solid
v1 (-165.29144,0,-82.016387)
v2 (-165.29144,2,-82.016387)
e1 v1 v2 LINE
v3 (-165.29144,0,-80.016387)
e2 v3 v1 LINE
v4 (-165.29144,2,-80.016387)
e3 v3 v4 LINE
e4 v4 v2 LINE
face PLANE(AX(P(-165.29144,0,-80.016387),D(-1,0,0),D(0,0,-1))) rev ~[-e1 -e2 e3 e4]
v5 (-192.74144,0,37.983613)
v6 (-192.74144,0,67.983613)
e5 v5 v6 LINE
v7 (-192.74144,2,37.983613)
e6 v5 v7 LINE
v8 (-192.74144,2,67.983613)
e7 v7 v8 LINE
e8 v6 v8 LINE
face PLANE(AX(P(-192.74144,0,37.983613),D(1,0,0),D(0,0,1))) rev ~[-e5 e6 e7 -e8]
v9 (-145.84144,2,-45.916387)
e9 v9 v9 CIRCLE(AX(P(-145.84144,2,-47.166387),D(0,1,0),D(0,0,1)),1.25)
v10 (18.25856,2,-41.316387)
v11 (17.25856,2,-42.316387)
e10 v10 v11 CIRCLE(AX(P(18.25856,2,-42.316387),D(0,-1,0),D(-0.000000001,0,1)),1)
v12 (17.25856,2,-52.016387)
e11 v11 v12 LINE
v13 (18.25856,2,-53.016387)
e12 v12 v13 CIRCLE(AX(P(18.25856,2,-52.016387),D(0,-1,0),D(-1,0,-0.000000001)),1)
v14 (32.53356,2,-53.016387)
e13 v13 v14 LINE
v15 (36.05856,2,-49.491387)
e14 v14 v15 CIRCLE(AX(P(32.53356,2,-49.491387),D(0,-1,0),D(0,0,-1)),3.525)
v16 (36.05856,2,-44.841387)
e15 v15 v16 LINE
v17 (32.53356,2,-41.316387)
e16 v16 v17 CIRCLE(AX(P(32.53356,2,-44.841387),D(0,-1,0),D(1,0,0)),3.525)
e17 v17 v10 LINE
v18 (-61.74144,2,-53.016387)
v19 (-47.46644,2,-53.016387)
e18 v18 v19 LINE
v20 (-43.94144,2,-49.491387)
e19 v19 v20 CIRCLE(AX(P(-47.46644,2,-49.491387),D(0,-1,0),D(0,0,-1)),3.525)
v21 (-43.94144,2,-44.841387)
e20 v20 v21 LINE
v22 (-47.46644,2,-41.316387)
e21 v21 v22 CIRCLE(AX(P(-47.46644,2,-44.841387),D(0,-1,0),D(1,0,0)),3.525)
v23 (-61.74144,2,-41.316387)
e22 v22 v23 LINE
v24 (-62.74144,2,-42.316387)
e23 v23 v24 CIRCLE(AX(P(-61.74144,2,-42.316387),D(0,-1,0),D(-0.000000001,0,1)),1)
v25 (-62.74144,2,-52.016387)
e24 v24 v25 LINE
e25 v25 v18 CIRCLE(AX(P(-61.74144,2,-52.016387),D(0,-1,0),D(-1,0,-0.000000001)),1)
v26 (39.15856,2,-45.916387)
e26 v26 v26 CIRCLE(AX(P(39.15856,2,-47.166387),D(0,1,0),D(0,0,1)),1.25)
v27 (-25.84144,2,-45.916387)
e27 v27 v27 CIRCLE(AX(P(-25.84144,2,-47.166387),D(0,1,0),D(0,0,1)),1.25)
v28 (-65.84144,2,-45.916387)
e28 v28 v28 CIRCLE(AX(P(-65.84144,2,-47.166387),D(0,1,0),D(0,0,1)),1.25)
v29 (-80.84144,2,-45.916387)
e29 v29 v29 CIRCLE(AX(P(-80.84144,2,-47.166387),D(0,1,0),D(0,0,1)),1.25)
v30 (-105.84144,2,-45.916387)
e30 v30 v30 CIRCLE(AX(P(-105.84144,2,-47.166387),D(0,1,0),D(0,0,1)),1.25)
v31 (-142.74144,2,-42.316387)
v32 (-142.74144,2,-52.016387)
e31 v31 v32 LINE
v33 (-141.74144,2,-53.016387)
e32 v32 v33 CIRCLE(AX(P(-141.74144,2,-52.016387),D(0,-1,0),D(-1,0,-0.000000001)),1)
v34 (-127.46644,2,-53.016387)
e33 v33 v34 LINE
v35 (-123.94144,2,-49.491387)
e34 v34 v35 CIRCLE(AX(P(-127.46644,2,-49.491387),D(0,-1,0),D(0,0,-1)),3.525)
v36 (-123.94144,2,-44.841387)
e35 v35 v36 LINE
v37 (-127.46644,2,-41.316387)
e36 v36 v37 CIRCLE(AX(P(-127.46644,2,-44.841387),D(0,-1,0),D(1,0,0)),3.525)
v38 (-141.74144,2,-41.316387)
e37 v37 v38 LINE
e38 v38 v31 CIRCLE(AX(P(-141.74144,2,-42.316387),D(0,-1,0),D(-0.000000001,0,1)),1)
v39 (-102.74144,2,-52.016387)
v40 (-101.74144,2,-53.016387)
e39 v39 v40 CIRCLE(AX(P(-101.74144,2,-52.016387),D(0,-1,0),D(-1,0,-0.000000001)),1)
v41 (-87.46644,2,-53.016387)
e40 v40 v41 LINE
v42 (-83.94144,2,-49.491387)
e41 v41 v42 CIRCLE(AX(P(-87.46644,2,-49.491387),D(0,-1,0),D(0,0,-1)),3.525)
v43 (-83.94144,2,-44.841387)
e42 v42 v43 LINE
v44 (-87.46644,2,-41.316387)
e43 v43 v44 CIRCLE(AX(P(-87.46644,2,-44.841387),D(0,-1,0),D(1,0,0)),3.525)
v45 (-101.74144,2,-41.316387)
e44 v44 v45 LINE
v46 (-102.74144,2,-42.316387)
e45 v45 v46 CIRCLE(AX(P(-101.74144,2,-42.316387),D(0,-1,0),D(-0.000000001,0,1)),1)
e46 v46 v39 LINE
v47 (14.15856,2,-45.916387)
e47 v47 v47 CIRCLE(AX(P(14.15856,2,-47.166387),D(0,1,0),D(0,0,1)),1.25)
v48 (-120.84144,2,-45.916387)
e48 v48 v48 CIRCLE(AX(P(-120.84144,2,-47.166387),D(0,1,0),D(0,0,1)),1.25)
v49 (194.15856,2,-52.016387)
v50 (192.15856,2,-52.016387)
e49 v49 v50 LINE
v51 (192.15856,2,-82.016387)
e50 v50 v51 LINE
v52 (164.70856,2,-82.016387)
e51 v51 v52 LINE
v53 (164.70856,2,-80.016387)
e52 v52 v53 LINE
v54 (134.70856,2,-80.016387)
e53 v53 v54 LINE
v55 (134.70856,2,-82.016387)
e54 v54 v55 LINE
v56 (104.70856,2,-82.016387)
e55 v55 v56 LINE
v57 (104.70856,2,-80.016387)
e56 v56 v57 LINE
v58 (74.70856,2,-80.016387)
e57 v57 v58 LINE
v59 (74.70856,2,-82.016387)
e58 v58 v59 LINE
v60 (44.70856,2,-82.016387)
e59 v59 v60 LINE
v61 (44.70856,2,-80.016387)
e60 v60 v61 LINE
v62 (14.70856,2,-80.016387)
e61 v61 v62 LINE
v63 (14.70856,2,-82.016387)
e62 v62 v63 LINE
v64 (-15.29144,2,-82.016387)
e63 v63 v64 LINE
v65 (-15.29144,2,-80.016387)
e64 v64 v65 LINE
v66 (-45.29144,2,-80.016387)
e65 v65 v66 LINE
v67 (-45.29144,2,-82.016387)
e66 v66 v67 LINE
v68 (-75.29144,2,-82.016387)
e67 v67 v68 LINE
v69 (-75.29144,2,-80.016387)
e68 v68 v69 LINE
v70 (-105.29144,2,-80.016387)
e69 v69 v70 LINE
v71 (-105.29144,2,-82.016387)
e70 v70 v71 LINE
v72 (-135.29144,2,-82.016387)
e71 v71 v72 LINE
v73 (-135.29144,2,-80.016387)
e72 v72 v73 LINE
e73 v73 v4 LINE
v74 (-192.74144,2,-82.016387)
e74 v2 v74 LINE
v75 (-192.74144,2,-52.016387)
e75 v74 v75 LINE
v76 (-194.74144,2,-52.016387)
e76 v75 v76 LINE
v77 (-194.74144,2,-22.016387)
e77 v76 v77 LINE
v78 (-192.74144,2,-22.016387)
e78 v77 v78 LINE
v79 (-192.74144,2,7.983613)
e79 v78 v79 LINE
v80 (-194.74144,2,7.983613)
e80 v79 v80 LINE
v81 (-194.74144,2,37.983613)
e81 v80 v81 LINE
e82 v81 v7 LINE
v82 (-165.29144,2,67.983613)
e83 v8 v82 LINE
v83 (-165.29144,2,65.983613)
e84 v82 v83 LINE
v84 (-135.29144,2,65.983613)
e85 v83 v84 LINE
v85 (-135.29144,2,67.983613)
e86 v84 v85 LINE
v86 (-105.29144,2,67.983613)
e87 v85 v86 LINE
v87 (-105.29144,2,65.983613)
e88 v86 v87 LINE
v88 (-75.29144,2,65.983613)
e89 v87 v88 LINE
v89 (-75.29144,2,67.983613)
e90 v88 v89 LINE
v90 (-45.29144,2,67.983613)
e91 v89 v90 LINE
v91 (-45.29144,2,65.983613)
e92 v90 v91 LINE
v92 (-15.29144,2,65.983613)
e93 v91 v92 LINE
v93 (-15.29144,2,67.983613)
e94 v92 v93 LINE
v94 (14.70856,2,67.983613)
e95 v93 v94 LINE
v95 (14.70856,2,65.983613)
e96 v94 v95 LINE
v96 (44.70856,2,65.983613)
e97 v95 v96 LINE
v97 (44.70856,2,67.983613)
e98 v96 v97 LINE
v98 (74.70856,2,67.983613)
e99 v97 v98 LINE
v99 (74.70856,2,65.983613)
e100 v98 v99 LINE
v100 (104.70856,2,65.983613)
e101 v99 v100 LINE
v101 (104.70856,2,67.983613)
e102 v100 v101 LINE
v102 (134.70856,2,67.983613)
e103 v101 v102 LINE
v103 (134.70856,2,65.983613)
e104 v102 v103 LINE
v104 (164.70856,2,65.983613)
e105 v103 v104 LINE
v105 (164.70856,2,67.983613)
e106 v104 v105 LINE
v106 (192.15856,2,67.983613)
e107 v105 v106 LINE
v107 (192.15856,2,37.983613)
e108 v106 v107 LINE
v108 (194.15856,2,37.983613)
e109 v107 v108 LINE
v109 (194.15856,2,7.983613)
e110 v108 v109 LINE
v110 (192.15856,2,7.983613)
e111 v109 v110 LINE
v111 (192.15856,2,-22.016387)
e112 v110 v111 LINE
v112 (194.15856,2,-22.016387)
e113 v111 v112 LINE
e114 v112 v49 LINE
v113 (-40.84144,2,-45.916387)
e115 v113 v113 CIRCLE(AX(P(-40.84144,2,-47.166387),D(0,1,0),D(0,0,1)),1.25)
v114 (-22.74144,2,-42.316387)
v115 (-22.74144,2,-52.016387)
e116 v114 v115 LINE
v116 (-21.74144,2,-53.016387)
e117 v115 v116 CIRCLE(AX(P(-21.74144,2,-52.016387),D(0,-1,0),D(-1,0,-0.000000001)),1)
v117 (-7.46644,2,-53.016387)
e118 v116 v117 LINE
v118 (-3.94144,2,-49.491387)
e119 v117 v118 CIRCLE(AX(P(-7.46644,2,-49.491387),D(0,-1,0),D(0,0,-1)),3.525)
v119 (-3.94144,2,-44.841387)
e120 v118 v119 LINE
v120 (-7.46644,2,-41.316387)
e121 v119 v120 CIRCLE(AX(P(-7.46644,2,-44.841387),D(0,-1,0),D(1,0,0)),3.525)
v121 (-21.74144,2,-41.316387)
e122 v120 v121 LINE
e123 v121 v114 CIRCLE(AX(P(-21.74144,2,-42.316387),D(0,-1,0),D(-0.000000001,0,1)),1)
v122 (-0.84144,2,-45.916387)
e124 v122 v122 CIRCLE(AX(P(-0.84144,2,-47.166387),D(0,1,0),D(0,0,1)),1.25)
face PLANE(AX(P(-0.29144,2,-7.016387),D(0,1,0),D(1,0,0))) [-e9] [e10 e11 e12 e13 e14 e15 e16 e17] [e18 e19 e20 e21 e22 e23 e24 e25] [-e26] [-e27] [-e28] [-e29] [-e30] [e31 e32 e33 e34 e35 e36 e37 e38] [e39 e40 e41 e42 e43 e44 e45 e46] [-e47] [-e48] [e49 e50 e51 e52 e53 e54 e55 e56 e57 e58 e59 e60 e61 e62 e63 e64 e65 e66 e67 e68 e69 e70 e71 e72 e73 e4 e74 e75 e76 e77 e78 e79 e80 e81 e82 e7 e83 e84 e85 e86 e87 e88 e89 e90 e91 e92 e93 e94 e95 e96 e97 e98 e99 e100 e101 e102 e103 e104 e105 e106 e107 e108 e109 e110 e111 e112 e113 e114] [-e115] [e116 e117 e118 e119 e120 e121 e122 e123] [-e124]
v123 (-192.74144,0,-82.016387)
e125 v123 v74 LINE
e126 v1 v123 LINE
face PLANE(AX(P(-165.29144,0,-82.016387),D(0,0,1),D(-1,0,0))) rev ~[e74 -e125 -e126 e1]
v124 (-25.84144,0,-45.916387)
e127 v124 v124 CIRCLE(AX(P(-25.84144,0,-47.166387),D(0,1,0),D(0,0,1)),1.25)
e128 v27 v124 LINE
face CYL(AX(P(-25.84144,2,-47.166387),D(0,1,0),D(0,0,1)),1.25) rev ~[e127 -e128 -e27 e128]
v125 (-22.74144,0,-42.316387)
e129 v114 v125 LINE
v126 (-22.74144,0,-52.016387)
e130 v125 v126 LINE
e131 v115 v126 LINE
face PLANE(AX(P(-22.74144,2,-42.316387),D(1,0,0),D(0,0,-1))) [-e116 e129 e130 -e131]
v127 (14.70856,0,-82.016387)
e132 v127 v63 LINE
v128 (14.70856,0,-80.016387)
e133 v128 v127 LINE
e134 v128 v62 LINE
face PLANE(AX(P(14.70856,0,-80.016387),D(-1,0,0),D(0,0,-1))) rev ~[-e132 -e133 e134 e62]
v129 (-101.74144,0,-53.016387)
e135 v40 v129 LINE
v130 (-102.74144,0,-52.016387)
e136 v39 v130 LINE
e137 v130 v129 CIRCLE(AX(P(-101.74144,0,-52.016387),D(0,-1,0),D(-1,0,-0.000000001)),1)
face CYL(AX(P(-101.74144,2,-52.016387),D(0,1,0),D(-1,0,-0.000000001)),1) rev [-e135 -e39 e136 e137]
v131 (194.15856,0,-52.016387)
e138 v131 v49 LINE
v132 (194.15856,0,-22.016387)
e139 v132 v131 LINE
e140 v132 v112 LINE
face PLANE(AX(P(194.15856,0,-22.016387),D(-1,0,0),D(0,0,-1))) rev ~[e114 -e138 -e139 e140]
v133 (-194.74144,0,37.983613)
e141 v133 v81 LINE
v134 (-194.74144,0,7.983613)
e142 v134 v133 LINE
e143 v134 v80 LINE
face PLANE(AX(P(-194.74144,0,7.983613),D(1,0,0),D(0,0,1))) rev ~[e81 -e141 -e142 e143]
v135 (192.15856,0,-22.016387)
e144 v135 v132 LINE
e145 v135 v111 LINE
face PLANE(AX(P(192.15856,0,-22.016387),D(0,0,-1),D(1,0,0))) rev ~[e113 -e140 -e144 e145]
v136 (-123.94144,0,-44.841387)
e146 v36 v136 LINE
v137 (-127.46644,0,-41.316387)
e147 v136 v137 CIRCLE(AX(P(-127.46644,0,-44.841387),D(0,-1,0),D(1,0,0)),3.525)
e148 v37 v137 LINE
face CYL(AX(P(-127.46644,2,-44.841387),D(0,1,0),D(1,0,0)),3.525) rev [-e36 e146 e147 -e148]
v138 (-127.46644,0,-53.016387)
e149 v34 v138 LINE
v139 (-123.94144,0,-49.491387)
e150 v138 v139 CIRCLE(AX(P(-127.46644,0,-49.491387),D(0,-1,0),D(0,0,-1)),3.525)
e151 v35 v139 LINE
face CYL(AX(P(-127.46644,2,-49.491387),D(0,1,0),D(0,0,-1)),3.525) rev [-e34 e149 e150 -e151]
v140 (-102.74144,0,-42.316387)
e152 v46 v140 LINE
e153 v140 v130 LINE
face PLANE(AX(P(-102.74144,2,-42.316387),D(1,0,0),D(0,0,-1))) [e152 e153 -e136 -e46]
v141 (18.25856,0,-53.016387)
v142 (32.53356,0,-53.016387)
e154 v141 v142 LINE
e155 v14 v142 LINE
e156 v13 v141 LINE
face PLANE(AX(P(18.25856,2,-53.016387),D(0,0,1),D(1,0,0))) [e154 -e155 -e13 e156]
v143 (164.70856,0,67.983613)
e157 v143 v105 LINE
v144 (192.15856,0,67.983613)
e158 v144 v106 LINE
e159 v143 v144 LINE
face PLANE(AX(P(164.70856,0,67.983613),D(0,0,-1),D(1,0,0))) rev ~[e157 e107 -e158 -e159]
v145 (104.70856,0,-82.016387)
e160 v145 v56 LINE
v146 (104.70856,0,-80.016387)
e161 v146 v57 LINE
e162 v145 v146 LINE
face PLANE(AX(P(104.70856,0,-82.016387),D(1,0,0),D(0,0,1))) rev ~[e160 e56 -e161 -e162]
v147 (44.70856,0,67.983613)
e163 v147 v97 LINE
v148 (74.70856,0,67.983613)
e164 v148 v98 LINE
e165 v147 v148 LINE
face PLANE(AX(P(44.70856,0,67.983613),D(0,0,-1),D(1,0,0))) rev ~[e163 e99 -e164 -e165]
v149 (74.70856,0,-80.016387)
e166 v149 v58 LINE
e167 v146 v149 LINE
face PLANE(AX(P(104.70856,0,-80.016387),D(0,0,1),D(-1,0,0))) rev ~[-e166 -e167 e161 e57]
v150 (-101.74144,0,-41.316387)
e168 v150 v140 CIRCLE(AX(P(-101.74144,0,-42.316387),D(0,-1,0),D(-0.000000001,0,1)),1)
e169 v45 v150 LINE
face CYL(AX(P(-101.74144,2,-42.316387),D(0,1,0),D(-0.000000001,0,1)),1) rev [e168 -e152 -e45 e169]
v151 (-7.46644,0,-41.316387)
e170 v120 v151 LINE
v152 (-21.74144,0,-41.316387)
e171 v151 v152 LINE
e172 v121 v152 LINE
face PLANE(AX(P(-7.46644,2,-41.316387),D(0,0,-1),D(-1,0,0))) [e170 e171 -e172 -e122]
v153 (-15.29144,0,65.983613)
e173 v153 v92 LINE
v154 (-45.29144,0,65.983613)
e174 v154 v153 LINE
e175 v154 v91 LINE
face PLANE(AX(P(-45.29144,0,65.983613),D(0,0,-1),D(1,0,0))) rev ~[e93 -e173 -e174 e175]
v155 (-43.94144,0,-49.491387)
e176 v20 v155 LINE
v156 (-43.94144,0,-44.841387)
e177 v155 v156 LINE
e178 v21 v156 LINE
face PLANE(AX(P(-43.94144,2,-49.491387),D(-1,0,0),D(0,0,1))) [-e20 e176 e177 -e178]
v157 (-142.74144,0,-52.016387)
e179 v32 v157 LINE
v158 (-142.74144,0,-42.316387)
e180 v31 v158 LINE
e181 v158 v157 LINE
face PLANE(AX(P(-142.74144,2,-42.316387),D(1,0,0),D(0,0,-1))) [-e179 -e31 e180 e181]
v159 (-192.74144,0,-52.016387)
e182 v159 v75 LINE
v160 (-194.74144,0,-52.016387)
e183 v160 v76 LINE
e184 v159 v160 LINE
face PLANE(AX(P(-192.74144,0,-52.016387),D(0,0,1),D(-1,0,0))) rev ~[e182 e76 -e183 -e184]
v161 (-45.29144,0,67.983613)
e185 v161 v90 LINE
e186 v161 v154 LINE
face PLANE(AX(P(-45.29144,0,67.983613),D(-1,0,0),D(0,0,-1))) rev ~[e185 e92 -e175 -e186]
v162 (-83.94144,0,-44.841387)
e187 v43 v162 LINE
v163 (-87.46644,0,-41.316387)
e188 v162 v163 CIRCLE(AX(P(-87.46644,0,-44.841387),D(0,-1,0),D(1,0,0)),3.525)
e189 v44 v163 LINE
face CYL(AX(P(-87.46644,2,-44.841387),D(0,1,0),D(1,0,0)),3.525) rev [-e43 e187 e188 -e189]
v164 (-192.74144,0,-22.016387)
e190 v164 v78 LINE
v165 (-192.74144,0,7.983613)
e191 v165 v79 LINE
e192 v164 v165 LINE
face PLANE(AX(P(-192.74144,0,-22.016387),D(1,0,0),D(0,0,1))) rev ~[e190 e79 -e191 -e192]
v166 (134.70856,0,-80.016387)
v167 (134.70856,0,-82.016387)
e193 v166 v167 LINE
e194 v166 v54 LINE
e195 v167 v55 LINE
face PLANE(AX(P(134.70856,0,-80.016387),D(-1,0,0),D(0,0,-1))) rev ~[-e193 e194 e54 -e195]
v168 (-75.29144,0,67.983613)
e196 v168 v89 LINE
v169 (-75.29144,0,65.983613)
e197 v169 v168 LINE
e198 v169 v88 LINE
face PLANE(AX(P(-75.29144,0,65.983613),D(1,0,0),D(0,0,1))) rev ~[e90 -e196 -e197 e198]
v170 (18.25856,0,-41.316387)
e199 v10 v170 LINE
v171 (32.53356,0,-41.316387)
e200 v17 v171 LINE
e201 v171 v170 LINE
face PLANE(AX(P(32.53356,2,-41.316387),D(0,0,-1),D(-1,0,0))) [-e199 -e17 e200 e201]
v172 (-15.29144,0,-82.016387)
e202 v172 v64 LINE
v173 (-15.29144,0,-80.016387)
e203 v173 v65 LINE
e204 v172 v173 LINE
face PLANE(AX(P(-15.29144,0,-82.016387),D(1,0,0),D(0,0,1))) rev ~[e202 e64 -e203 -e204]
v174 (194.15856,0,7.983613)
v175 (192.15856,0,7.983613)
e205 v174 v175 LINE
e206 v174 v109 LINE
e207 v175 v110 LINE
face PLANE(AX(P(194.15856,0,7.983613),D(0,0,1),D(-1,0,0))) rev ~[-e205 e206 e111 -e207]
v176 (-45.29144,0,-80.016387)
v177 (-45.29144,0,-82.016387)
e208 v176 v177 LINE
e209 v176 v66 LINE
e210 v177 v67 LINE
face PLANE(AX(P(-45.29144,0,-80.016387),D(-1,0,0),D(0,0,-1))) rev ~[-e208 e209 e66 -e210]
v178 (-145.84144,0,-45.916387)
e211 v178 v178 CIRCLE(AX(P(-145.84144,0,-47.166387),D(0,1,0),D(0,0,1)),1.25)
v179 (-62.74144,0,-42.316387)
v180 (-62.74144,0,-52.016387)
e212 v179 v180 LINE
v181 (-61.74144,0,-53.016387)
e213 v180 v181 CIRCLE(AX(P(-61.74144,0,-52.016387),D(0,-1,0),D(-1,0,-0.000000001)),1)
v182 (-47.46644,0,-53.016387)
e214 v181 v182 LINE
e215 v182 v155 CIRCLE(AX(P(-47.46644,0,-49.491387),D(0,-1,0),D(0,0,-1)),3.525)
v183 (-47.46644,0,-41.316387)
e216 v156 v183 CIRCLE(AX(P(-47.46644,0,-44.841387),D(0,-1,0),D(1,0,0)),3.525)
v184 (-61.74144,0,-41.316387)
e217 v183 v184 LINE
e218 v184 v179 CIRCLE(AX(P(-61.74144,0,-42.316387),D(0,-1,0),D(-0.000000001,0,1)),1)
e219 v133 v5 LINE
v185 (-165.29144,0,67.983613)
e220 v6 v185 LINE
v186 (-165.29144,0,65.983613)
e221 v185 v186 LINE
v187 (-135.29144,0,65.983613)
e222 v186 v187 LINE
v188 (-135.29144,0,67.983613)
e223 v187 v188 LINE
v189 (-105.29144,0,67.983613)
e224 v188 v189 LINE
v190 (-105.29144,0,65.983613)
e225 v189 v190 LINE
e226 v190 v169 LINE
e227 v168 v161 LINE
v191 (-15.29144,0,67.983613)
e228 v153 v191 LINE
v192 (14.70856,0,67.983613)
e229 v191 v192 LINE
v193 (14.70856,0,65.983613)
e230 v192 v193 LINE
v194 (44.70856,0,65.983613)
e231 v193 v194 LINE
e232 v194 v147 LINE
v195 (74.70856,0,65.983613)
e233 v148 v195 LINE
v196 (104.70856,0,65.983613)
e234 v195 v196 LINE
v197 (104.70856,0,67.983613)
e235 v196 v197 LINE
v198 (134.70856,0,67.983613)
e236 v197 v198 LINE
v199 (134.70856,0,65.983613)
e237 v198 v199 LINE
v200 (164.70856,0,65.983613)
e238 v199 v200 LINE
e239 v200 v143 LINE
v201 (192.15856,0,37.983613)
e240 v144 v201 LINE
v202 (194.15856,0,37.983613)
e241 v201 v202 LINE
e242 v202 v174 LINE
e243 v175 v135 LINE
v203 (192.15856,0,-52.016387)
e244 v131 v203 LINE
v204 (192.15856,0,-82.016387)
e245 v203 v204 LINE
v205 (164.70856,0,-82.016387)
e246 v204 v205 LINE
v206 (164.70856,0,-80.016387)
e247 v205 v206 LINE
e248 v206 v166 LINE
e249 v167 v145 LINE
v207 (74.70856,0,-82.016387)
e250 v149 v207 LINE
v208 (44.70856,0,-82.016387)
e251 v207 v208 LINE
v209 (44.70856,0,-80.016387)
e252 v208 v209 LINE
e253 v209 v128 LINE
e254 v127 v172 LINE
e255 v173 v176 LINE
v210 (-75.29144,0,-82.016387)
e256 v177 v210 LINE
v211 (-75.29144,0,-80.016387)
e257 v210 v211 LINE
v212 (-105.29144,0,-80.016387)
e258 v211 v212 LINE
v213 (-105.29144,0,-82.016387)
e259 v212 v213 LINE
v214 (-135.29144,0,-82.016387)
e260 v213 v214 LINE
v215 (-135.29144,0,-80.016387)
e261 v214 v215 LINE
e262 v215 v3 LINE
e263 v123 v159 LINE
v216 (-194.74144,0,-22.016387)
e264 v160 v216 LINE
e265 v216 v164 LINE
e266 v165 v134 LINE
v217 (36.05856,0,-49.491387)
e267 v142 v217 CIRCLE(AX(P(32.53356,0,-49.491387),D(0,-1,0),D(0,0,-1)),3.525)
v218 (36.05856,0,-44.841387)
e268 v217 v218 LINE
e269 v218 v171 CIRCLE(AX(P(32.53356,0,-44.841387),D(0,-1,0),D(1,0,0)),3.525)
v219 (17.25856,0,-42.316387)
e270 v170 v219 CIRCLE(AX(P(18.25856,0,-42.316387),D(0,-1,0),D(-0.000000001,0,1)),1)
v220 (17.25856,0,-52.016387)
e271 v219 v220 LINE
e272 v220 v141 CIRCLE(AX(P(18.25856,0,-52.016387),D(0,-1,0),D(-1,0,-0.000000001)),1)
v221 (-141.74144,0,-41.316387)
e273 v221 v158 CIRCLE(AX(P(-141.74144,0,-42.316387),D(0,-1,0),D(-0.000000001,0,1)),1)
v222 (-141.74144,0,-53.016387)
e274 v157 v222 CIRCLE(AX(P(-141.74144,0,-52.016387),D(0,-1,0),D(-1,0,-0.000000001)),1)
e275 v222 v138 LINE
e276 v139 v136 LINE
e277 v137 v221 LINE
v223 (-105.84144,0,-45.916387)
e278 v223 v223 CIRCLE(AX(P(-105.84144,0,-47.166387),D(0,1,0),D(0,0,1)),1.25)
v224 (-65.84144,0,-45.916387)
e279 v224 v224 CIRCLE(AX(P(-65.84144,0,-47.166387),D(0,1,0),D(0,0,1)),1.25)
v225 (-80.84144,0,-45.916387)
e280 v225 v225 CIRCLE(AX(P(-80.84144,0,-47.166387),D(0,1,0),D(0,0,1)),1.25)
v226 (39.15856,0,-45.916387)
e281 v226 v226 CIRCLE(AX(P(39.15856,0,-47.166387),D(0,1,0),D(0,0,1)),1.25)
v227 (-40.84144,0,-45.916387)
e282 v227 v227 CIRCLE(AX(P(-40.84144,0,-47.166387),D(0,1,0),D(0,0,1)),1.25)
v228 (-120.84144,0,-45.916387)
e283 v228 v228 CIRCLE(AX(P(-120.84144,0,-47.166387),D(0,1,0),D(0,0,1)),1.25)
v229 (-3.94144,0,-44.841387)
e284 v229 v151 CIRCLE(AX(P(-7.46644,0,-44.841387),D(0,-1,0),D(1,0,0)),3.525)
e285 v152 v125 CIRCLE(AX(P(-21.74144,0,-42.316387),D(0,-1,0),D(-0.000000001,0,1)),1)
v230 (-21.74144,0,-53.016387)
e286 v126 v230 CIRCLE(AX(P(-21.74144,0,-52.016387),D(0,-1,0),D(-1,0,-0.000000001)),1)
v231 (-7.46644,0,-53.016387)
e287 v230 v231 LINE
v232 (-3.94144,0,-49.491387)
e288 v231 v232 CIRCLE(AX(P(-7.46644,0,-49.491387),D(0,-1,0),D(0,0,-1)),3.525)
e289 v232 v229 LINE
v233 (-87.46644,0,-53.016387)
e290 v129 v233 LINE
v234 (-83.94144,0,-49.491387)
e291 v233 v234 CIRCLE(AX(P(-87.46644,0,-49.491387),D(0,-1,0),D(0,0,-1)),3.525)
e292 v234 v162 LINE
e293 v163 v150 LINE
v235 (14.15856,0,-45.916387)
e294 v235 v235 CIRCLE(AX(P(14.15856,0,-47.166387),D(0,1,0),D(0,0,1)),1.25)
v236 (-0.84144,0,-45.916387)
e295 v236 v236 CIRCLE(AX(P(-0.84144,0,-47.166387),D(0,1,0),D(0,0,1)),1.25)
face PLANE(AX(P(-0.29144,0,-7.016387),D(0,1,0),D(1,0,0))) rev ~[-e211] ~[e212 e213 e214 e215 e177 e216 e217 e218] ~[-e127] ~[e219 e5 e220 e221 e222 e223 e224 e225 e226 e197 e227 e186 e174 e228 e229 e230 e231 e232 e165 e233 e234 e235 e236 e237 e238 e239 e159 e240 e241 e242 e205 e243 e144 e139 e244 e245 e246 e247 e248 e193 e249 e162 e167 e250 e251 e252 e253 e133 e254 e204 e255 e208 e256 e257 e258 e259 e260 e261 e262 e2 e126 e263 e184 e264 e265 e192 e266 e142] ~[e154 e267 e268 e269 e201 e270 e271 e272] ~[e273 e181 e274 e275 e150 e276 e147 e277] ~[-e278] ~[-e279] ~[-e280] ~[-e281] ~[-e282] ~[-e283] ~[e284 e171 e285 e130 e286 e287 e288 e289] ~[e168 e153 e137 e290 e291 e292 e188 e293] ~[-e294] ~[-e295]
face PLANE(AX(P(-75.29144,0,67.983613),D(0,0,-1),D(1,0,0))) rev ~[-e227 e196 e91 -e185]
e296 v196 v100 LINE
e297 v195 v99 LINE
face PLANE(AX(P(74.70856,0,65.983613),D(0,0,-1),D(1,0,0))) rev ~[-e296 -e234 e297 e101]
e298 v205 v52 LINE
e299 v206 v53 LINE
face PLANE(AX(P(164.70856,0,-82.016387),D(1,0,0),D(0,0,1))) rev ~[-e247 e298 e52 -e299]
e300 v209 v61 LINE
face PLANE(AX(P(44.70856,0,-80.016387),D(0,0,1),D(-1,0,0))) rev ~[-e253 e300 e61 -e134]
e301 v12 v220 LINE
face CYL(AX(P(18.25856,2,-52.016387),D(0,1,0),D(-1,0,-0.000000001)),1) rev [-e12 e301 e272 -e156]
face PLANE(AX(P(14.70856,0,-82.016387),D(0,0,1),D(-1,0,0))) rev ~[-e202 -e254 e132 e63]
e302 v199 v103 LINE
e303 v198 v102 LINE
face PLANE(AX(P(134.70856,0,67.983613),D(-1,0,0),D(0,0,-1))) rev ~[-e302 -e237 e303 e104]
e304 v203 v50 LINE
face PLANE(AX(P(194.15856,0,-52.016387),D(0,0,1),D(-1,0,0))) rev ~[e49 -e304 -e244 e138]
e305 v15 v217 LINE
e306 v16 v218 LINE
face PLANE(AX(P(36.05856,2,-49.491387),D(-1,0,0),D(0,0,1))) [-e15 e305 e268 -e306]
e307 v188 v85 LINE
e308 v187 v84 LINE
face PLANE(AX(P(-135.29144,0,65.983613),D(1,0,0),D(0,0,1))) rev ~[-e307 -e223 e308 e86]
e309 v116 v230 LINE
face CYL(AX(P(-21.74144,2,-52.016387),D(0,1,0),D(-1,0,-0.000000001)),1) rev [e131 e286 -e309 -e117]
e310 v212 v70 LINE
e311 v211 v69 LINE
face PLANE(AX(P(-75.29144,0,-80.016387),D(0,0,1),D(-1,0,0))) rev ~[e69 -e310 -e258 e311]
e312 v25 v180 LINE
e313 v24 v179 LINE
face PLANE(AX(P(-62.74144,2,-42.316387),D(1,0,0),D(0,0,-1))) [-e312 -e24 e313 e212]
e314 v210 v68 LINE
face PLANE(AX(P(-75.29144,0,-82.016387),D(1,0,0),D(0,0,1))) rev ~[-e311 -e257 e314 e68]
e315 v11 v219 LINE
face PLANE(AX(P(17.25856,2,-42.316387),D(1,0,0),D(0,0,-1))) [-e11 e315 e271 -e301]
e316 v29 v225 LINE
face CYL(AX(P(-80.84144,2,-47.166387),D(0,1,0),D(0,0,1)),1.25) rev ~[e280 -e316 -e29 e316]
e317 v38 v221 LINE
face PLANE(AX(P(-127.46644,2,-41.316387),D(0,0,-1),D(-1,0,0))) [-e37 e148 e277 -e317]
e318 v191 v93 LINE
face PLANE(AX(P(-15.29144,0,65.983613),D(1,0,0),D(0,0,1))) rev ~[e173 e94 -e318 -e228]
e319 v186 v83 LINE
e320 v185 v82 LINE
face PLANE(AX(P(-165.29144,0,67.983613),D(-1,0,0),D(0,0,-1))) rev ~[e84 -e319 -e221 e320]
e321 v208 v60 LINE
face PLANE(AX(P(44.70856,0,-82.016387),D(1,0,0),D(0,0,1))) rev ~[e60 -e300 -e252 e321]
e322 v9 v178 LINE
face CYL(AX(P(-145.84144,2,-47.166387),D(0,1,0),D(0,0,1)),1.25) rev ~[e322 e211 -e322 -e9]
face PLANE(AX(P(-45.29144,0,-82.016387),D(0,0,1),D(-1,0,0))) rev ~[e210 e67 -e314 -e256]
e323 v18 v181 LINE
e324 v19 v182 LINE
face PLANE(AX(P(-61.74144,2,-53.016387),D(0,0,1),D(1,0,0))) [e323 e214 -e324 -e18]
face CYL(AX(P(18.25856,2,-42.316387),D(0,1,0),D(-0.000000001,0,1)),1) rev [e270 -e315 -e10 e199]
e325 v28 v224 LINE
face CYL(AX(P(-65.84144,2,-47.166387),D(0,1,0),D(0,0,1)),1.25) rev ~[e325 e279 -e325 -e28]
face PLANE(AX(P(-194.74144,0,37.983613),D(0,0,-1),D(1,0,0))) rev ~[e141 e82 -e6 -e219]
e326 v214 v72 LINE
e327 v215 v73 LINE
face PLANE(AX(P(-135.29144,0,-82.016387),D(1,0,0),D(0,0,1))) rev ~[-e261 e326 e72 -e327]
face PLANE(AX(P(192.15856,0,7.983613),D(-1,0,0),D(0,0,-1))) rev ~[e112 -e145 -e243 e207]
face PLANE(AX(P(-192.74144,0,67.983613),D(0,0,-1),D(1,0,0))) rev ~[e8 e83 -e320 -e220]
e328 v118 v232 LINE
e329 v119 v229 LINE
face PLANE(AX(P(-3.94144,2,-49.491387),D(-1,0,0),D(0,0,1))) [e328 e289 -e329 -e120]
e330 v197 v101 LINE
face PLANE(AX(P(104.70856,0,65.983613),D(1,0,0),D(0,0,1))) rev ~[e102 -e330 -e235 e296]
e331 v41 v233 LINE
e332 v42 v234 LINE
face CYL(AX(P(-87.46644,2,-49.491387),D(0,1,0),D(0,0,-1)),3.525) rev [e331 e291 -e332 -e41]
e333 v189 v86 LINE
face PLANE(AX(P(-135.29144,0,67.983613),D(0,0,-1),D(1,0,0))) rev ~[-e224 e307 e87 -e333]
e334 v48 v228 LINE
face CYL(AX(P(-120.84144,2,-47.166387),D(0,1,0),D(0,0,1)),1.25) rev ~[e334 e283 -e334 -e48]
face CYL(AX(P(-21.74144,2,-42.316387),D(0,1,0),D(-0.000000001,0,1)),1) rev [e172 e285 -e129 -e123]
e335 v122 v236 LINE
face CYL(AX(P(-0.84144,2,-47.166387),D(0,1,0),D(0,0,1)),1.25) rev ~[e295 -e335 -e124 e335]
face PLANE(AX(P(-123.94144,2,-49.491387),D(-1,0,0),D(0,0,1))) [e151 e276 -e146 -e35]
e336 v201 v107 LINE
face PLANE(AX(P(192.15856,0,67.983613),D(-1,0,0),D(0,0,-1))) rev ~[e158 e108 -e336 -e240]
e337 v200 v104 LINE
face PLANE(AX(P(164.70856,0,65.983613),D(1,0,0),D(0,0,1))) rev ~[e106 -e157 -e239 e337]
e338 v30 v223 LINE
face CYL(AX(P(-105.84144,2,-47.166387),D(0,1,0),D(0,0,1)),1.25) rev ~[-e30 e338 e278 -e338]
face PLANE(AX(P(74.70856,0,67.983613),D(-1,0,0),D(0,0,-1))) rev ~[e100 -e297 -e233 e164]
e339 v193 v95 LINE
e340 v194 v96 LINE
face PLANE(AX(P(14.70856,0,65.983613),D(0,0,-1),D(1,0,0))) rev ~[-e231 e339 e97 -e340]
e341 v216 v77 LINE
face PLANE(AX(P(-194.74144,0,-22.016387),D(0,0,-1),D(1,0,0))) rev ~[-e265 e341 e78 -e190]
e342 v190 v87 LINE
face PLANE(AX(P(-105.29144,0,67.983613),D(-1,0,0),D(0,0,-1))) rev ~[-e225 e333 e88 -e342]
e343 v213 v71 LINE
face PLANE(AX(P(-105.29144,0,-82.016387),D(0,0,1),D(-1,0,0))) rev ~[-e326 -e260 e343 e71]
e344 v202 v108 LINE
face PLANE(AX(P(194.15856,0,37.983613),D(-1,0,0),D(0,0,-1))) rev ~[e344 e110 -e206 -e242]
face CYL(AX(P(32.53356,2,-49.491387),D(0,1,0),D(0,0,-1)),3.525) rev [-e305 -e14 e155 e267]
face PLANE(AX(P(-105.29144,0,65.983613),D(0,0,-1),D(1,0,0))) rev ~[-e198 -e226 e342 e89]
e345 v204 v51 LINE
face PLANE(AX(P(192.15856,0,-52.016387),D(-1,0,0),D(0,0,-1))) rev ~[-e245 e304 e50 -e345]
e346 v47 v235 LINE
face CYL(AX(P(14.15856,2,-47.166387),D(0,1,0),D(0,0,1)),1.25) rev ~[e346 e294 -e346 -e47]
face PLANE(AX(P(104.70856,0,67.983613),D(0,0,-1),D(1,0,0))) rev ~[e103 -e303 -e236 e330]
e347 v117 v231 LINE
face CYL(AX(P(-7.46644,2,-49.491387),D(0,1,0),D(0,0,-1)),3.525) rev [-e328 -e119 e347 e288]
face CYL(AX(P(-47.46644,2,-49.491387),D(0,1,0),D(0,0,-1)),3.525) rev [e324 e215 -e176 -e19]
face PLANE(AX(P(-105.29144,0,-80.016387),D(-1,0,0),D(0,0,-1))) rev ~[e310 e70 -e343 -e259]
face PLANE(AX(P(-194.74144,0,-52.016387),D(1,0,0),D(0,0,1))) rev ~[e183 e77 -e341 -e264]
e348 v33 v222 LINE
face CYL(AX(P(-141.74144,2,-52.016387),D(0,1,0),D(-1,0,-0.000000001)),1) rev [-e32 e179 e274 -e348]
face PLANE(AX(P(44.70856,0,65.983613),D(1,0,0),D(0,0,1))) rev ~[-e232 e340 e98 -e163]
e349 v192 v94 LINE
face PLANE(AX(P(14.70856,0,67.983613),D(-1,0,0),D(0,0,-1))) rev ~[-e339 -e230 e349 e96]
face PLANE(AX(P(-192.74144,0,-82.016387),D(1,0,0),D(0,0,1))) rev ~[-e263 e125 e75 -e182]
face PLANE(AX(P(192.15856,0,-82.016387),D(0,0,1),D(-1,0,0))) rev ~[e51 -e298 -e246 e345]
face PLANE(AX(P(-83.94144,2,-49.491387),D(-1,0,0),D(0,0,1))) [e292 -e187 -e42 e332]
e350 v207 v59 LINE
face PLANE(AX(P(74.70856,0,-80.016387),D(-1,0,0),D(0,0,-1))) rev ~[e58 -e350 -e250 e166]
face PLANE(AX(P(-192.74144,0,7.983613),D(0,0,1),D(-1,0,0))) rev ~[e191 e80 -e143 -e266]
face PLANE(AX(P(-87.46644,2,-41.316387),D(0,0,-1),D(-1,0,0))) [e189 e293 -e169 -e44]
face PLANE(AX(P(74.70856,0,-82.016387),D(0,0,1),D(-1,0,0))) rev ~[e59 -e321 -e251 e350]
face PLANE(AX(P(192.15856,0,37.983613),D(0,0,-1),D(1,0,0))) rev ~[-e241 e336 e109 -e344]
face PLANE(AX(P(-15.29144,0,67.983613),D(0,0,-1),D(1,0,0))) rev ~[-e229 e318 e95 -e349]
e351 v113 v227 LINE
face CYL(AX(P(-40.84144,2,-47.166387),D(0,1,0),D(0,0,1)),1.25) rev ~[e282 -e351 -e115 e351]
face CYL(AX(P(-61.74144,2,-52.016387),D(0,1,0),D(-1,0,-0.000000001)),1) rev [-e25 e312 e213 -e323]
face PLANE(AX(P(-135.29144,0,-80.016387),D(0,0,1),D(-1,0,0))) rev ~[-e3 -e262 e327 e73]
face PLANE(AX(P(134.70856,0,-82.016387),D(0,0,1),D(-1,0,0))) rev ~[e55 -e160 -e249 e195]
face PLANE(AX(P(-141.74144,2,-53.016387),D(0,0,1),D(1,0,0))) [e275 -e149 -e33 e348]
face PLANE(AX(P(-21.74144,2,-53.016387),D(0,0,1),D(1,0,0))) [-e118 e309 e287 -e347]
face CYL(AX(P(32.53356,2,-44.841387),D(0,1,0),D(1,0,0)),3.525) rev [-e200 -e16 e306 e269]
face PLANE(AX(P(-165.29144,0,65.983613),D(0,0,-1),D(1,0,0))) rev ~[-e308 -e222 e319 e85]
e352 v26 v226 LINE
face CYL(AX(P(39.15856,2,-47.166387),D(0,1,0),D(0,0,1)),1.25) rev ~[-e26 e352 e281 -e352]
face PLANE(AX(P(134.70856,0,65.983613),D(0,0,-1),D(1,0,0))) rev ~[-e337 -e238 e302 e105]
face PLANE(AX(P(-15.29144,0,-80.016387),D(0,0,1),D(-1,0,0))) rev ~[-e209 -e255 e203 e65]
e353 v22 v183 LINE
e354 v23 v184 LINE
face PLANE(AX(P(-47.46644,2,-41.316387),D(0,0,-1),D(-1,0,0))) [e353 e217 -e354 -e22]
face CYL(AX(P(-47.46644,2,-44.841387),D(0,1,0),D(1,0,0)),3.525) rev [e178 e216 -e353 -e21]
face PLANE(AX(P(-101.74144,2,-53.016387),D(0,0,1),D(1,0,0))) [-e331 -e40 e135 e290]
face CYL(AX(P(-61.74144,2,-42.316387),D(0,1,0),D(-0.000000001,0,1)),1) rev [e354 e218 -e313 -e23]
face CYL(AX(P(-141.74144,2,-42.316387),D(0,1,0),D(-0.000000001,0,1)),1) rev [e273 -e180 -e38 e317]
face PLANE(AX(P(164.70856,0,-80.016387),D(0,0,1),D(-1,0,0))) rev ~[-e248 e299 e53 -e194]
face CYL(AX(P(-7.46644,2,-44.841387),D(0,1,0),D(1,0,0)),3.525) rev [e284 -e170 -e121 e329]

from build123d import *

# Parameters (mm, degrees)
BOSS_EXTRUDE1_DEPTH = 2
SKETCH3_R           = 1.25
CUT_EXTRUDE1_DEPTH  = 2


with BuildPart() as part:
    # Sketch1 → Boss-Extrude1 (new body)
    with BuildSketch(Plane(origin=(0, 0, 0), x_dir=(1, 0, 0), z_dir=(0, 1, 0))):
        Polygon((192.158560219, 82.016387154), (164.708560219, 82.016387154), (164.708560219, 80.016387154), (134.708560219, 80.016387154), (134.708560219, 82.016387154), (104.708560219, 82.016387154), (104.708560219, 80.016387154), (74.708560219, 80.016387154), (74.708560219, 82.016387154), (44.708560219, 82.016387154), (44.708560219, 80.016387154), (14.708560219, 80.016387154), (14.708560219, 82.016387154), (-15.291439781, 82.016387154), (-15.291439781, 80.016387154), (-45.291439781, 80.016387154), (-45.291439781, 82.016387154), (-75.291439781, 82.016387154), (-75.291439781, 80.016387154), (-105.291439781, 80.016387154), (-105.291439781, 82.016387154), (-135.291439781, 82.016387154), (-135.291439781, 80.016387154), (-165.291439781, 80.016387154), (-165.291439781, 82.016387154), (-192.741439781, 82.016387154), (-192.741439781, 80.016387154), (-192.741439781, 52.016387154), (-194.741439781, 52.016387154), (-194.741439781, 22.016387154), (-192.741439781, 22.016387154), (-192.741439781, -7.983612846), (-194.741439781, -7.983612846), (-194.741439781, -37.983612846), (-192.741439781, -37.983612846), (-192.741439781, -65.983612846), (-192.741439781, -67.983612846), (-165.291439781, -67.983612846), (-165.291439781, -65.983612846), (-135.291439781, -65.983612846), (-135.291439781, -67.983612846), (-105.291439781, -67.983612846), (-105.291439781, -65.983612846), (-75.291439781, -65.983612846), (-75.291439781, -67.983612846), (-45.291439781, -67.983612846), (-45.291439781, -65.983612846), (-15.291439781, -65.983612846), (-15.291439781, -67.983612846), (14.708560219, -67.983612846), (14.708560219, -65.983612846), (44.708560219, -65.983612846), (44.708560219, -67.983612846), (74.708560219, -67.983612846), (74.708560219, -65.983612846), (104.708560219, -65.983612846), (104.708560219, -67.983612846), (134.708560219, -67.983612846), (134.708560219, -65.983612846), (164.708560219, -65.983612846), (164.708560219, -67.983612846), (192.158560219, -67.983612846), (192.158560219, -65.983612846), (192.158560219, -37.983612846), (194.158560219, -37.983612846), (194.158560219, -7.983612846), (192.158560219, -7.983612846), (192.158560219, 22.016387154), (194.158560219, 22.016387154), (194.158560219, 52.016387154), (192.158560219, 52.016387154), (192.158560219, 80.016387154), align=None)
    extrude(amount=BOSS_EXTRUDE1_DEPTH)

    # Sketch3 → Cut-Extrude1 (cut)
    with BuildSketch(Plane(origin=(0, 2, 0), x_dir=(1, 0, 0), z_dir=(0, 1, 0))):
        with Locations(Location((-145.841439781, 47.166387154, 0), (0, 0, 270))):
            Circle(SKETCH3_R)
        with Locations(Location((-120.841439781, 47.166387154, 0), (0, 0, 270))):
            Circle(SKETCH3_R)
        with Locations(Location((-105.841439781, 47.166387154, 0), (0, 0, 270))):
            Circle(SKETCH3_R)
        with Locations(Location((-80.841439781, 47.166387154, 0), (0, 0, 270))):
            Circle(SKETCH3_R)
        with Locations(Location((-65.841439781, 47.166387154, 0), (0, 0, 270))):
            Circle(SKETCH3_R)
        with Locations(Location((-40.841439781, 47.166387154, 0), (0, 0, 270))):
            Circle(SKETCH3_R)
        with Locations(Location((-25.841439781, 47.166387154, 0), (0, 0, 270))):
            Circle(SKETCH3_R)
        with Locations(Location((-0.841439781, 47.166387154, 0), (0, 0, 270))):
            Circle(SKETCH3_R)
        with Locations(Location((14.158560219, 47.166387154, 0), (0, 0, 270))):
            Circle(SKETCH3_R)
        with Locations(Location((39.158560219, 47.166387154, 0), (0, 0, 270))):
            Circle(SKETCH3_R)
        with BuildLine():
            Line((-127.466439781, 41.316387154), (-141.741439781, 41.316387154))
            ThreePointArc((-141.741439781, 41.316387154), (-142.448546562, 41.609280373), (-142.741439781, 42.316387154))
            Line((-142.741439781, 42.316387154), (-142.741439781, 52.016387154))
            ThreePointArc((-142.741439781, 52.016387154), (-142.448546562, 52.723493935), (-141.741439781, 53.016387154))
            Line((-141.741439781, 53.016387154), (-127.466439781, 53.016387154))
            ThreePointArc((-127.466439781, 53.016387154), (-124.973888377, 51.983938557), (-123.941439781, 49.491387154))
            Line((-123.941439781, 49.491387154), (-123.941439781, 44.841387154))
            ThreePointArc((-123.941439781, 44.841387154), (-124.973888377, 42.34883575), (-127.466439781, 41.316387154))
        make_face()
        with BuildLine():
            Line((-87.466439781, 41.316387154), (-101.741439781, 41.316387154))
            ThreePointArc((-101.741439781, 41.316387154), (-102.448546562, 41.609280373), (-102.741439781, 42.316387154))
            Line((-102.741439781, 42.316387154), (-102.741439781, 52.016387154))
            ThreePointArc((-102.741439781, 52.016387154), (-102.448546562, 52.723493935), (-101.741439781, 53.016387154))
            Line((-101.741439781, 53.016387154), (-87.466439781, 53.016387154))
            ThreePointArc((-87.466439781, 53.016387154), (-84.973888377, 51.983938557), (-83.941439781, 49.491387154))
            Line((-83.941439781, 49.491387154), (-83.941439781, 44.841387154))
            ThreePointArc((-83.941439781, 44.841387154), (-84.973888377, 42.34883575), (-87.466439781, 41.316387154))
        make_face()
        with BuildLine():
            Line((-47.466439781, 41.316387154), (-61.741439781, 41.316387154))
            ThreePointArc((-61.741439781, 41.316387154), (-62.448546562, 41.609280373), (-62.741439781, 42.316387154))
            Line((-62.741439781, 42.316387154), (-62.741439781, 52.016387154))
            ThreePointArc((-62.741439781, 52.016387154), (-62.448546562, 52.723493935), (-61.741439781, 53.016387154))
            Line((-61.741439781, 53.016387154), (-47.466439781, 53.016387154))
            ThreePointArc((-47.466439781, 53.016387154), (-44.973888377, 51.983938557), (-43.941439781, 49.491387154))
            Line((-43.941439781, 49.491387154), (-43.941439781, 44.841387154))
            ThreePointArc((-43.941439781, 44.841387154), (-44.973888377, 42.34883575), (-47.466439781, 41.316387154))
        make_face()
        with BuildLine():
            Line((-7.466439781, 41.316387154), (-21.741439781, 41.316387154))
            ThreePointArc((-21.741439781, 41.316387154), (-22.448546562, 41.609280373), (-22.741439781, 42.316387154))
            Line((-22.741439781, 42.316387154), (-22.741439781, 52.016387154))
            ThreePointArc((-22.741439781, 52.016387154), (-22.448546562, 52.723493935), (-21.741439781, 53.016387154))
            Line((-21.741439781, 53.016387154), (-7.466439781, 53.016387154))
            ThreePointArc((-7.466439781, 53.016387154), (-4.973888377, 51.983938557), (-3.941439781, 49.491387154))
            Line((-3.941439781, 49.491387154), (-3.941439781, 44.841387154))
            ThreePointArc((-3.941439781, 44.841387154), (-4.973888377, 42.34883575), (-7.466439781, 41.316387154))
        make_face()
        with BuildLine():
            Line((32.533560219, 41.316387154), (18.258560219, 41.316387154))
            ThreePointArc((18.258560219, 41.316387154), (17.551453438, 41.609280373), (17.258560219, 42.316387154))
            Line((17.258560219, 42.316387154), (17.258560219, 52.016387154))
            ThreePointArc((17.258560219, 52.016387154), (17.551453438, 52.723493935), (18.258560219, 53.016387154))
            Line((18.258560219, 53.016387154), (32.533560219, 53.016387154))
            ThreePointArc((32.533560219, 53.016387154), (35.026111623, 51.983938557), (36.058560219, 49.491387154))
            Line((36.058560219, 49.491387154), (36.058560219, 44.841387154))
            ThreePointArc((36.058560219, 44.841387154), (35.026111623, 42.34883575), (32.533560219, 41.316387154))
        make_face()
    extrude(amount=-CUT_EXTRUDE1_DEPTH, mode=Mode.SUBTRACT)


solid = part.part
